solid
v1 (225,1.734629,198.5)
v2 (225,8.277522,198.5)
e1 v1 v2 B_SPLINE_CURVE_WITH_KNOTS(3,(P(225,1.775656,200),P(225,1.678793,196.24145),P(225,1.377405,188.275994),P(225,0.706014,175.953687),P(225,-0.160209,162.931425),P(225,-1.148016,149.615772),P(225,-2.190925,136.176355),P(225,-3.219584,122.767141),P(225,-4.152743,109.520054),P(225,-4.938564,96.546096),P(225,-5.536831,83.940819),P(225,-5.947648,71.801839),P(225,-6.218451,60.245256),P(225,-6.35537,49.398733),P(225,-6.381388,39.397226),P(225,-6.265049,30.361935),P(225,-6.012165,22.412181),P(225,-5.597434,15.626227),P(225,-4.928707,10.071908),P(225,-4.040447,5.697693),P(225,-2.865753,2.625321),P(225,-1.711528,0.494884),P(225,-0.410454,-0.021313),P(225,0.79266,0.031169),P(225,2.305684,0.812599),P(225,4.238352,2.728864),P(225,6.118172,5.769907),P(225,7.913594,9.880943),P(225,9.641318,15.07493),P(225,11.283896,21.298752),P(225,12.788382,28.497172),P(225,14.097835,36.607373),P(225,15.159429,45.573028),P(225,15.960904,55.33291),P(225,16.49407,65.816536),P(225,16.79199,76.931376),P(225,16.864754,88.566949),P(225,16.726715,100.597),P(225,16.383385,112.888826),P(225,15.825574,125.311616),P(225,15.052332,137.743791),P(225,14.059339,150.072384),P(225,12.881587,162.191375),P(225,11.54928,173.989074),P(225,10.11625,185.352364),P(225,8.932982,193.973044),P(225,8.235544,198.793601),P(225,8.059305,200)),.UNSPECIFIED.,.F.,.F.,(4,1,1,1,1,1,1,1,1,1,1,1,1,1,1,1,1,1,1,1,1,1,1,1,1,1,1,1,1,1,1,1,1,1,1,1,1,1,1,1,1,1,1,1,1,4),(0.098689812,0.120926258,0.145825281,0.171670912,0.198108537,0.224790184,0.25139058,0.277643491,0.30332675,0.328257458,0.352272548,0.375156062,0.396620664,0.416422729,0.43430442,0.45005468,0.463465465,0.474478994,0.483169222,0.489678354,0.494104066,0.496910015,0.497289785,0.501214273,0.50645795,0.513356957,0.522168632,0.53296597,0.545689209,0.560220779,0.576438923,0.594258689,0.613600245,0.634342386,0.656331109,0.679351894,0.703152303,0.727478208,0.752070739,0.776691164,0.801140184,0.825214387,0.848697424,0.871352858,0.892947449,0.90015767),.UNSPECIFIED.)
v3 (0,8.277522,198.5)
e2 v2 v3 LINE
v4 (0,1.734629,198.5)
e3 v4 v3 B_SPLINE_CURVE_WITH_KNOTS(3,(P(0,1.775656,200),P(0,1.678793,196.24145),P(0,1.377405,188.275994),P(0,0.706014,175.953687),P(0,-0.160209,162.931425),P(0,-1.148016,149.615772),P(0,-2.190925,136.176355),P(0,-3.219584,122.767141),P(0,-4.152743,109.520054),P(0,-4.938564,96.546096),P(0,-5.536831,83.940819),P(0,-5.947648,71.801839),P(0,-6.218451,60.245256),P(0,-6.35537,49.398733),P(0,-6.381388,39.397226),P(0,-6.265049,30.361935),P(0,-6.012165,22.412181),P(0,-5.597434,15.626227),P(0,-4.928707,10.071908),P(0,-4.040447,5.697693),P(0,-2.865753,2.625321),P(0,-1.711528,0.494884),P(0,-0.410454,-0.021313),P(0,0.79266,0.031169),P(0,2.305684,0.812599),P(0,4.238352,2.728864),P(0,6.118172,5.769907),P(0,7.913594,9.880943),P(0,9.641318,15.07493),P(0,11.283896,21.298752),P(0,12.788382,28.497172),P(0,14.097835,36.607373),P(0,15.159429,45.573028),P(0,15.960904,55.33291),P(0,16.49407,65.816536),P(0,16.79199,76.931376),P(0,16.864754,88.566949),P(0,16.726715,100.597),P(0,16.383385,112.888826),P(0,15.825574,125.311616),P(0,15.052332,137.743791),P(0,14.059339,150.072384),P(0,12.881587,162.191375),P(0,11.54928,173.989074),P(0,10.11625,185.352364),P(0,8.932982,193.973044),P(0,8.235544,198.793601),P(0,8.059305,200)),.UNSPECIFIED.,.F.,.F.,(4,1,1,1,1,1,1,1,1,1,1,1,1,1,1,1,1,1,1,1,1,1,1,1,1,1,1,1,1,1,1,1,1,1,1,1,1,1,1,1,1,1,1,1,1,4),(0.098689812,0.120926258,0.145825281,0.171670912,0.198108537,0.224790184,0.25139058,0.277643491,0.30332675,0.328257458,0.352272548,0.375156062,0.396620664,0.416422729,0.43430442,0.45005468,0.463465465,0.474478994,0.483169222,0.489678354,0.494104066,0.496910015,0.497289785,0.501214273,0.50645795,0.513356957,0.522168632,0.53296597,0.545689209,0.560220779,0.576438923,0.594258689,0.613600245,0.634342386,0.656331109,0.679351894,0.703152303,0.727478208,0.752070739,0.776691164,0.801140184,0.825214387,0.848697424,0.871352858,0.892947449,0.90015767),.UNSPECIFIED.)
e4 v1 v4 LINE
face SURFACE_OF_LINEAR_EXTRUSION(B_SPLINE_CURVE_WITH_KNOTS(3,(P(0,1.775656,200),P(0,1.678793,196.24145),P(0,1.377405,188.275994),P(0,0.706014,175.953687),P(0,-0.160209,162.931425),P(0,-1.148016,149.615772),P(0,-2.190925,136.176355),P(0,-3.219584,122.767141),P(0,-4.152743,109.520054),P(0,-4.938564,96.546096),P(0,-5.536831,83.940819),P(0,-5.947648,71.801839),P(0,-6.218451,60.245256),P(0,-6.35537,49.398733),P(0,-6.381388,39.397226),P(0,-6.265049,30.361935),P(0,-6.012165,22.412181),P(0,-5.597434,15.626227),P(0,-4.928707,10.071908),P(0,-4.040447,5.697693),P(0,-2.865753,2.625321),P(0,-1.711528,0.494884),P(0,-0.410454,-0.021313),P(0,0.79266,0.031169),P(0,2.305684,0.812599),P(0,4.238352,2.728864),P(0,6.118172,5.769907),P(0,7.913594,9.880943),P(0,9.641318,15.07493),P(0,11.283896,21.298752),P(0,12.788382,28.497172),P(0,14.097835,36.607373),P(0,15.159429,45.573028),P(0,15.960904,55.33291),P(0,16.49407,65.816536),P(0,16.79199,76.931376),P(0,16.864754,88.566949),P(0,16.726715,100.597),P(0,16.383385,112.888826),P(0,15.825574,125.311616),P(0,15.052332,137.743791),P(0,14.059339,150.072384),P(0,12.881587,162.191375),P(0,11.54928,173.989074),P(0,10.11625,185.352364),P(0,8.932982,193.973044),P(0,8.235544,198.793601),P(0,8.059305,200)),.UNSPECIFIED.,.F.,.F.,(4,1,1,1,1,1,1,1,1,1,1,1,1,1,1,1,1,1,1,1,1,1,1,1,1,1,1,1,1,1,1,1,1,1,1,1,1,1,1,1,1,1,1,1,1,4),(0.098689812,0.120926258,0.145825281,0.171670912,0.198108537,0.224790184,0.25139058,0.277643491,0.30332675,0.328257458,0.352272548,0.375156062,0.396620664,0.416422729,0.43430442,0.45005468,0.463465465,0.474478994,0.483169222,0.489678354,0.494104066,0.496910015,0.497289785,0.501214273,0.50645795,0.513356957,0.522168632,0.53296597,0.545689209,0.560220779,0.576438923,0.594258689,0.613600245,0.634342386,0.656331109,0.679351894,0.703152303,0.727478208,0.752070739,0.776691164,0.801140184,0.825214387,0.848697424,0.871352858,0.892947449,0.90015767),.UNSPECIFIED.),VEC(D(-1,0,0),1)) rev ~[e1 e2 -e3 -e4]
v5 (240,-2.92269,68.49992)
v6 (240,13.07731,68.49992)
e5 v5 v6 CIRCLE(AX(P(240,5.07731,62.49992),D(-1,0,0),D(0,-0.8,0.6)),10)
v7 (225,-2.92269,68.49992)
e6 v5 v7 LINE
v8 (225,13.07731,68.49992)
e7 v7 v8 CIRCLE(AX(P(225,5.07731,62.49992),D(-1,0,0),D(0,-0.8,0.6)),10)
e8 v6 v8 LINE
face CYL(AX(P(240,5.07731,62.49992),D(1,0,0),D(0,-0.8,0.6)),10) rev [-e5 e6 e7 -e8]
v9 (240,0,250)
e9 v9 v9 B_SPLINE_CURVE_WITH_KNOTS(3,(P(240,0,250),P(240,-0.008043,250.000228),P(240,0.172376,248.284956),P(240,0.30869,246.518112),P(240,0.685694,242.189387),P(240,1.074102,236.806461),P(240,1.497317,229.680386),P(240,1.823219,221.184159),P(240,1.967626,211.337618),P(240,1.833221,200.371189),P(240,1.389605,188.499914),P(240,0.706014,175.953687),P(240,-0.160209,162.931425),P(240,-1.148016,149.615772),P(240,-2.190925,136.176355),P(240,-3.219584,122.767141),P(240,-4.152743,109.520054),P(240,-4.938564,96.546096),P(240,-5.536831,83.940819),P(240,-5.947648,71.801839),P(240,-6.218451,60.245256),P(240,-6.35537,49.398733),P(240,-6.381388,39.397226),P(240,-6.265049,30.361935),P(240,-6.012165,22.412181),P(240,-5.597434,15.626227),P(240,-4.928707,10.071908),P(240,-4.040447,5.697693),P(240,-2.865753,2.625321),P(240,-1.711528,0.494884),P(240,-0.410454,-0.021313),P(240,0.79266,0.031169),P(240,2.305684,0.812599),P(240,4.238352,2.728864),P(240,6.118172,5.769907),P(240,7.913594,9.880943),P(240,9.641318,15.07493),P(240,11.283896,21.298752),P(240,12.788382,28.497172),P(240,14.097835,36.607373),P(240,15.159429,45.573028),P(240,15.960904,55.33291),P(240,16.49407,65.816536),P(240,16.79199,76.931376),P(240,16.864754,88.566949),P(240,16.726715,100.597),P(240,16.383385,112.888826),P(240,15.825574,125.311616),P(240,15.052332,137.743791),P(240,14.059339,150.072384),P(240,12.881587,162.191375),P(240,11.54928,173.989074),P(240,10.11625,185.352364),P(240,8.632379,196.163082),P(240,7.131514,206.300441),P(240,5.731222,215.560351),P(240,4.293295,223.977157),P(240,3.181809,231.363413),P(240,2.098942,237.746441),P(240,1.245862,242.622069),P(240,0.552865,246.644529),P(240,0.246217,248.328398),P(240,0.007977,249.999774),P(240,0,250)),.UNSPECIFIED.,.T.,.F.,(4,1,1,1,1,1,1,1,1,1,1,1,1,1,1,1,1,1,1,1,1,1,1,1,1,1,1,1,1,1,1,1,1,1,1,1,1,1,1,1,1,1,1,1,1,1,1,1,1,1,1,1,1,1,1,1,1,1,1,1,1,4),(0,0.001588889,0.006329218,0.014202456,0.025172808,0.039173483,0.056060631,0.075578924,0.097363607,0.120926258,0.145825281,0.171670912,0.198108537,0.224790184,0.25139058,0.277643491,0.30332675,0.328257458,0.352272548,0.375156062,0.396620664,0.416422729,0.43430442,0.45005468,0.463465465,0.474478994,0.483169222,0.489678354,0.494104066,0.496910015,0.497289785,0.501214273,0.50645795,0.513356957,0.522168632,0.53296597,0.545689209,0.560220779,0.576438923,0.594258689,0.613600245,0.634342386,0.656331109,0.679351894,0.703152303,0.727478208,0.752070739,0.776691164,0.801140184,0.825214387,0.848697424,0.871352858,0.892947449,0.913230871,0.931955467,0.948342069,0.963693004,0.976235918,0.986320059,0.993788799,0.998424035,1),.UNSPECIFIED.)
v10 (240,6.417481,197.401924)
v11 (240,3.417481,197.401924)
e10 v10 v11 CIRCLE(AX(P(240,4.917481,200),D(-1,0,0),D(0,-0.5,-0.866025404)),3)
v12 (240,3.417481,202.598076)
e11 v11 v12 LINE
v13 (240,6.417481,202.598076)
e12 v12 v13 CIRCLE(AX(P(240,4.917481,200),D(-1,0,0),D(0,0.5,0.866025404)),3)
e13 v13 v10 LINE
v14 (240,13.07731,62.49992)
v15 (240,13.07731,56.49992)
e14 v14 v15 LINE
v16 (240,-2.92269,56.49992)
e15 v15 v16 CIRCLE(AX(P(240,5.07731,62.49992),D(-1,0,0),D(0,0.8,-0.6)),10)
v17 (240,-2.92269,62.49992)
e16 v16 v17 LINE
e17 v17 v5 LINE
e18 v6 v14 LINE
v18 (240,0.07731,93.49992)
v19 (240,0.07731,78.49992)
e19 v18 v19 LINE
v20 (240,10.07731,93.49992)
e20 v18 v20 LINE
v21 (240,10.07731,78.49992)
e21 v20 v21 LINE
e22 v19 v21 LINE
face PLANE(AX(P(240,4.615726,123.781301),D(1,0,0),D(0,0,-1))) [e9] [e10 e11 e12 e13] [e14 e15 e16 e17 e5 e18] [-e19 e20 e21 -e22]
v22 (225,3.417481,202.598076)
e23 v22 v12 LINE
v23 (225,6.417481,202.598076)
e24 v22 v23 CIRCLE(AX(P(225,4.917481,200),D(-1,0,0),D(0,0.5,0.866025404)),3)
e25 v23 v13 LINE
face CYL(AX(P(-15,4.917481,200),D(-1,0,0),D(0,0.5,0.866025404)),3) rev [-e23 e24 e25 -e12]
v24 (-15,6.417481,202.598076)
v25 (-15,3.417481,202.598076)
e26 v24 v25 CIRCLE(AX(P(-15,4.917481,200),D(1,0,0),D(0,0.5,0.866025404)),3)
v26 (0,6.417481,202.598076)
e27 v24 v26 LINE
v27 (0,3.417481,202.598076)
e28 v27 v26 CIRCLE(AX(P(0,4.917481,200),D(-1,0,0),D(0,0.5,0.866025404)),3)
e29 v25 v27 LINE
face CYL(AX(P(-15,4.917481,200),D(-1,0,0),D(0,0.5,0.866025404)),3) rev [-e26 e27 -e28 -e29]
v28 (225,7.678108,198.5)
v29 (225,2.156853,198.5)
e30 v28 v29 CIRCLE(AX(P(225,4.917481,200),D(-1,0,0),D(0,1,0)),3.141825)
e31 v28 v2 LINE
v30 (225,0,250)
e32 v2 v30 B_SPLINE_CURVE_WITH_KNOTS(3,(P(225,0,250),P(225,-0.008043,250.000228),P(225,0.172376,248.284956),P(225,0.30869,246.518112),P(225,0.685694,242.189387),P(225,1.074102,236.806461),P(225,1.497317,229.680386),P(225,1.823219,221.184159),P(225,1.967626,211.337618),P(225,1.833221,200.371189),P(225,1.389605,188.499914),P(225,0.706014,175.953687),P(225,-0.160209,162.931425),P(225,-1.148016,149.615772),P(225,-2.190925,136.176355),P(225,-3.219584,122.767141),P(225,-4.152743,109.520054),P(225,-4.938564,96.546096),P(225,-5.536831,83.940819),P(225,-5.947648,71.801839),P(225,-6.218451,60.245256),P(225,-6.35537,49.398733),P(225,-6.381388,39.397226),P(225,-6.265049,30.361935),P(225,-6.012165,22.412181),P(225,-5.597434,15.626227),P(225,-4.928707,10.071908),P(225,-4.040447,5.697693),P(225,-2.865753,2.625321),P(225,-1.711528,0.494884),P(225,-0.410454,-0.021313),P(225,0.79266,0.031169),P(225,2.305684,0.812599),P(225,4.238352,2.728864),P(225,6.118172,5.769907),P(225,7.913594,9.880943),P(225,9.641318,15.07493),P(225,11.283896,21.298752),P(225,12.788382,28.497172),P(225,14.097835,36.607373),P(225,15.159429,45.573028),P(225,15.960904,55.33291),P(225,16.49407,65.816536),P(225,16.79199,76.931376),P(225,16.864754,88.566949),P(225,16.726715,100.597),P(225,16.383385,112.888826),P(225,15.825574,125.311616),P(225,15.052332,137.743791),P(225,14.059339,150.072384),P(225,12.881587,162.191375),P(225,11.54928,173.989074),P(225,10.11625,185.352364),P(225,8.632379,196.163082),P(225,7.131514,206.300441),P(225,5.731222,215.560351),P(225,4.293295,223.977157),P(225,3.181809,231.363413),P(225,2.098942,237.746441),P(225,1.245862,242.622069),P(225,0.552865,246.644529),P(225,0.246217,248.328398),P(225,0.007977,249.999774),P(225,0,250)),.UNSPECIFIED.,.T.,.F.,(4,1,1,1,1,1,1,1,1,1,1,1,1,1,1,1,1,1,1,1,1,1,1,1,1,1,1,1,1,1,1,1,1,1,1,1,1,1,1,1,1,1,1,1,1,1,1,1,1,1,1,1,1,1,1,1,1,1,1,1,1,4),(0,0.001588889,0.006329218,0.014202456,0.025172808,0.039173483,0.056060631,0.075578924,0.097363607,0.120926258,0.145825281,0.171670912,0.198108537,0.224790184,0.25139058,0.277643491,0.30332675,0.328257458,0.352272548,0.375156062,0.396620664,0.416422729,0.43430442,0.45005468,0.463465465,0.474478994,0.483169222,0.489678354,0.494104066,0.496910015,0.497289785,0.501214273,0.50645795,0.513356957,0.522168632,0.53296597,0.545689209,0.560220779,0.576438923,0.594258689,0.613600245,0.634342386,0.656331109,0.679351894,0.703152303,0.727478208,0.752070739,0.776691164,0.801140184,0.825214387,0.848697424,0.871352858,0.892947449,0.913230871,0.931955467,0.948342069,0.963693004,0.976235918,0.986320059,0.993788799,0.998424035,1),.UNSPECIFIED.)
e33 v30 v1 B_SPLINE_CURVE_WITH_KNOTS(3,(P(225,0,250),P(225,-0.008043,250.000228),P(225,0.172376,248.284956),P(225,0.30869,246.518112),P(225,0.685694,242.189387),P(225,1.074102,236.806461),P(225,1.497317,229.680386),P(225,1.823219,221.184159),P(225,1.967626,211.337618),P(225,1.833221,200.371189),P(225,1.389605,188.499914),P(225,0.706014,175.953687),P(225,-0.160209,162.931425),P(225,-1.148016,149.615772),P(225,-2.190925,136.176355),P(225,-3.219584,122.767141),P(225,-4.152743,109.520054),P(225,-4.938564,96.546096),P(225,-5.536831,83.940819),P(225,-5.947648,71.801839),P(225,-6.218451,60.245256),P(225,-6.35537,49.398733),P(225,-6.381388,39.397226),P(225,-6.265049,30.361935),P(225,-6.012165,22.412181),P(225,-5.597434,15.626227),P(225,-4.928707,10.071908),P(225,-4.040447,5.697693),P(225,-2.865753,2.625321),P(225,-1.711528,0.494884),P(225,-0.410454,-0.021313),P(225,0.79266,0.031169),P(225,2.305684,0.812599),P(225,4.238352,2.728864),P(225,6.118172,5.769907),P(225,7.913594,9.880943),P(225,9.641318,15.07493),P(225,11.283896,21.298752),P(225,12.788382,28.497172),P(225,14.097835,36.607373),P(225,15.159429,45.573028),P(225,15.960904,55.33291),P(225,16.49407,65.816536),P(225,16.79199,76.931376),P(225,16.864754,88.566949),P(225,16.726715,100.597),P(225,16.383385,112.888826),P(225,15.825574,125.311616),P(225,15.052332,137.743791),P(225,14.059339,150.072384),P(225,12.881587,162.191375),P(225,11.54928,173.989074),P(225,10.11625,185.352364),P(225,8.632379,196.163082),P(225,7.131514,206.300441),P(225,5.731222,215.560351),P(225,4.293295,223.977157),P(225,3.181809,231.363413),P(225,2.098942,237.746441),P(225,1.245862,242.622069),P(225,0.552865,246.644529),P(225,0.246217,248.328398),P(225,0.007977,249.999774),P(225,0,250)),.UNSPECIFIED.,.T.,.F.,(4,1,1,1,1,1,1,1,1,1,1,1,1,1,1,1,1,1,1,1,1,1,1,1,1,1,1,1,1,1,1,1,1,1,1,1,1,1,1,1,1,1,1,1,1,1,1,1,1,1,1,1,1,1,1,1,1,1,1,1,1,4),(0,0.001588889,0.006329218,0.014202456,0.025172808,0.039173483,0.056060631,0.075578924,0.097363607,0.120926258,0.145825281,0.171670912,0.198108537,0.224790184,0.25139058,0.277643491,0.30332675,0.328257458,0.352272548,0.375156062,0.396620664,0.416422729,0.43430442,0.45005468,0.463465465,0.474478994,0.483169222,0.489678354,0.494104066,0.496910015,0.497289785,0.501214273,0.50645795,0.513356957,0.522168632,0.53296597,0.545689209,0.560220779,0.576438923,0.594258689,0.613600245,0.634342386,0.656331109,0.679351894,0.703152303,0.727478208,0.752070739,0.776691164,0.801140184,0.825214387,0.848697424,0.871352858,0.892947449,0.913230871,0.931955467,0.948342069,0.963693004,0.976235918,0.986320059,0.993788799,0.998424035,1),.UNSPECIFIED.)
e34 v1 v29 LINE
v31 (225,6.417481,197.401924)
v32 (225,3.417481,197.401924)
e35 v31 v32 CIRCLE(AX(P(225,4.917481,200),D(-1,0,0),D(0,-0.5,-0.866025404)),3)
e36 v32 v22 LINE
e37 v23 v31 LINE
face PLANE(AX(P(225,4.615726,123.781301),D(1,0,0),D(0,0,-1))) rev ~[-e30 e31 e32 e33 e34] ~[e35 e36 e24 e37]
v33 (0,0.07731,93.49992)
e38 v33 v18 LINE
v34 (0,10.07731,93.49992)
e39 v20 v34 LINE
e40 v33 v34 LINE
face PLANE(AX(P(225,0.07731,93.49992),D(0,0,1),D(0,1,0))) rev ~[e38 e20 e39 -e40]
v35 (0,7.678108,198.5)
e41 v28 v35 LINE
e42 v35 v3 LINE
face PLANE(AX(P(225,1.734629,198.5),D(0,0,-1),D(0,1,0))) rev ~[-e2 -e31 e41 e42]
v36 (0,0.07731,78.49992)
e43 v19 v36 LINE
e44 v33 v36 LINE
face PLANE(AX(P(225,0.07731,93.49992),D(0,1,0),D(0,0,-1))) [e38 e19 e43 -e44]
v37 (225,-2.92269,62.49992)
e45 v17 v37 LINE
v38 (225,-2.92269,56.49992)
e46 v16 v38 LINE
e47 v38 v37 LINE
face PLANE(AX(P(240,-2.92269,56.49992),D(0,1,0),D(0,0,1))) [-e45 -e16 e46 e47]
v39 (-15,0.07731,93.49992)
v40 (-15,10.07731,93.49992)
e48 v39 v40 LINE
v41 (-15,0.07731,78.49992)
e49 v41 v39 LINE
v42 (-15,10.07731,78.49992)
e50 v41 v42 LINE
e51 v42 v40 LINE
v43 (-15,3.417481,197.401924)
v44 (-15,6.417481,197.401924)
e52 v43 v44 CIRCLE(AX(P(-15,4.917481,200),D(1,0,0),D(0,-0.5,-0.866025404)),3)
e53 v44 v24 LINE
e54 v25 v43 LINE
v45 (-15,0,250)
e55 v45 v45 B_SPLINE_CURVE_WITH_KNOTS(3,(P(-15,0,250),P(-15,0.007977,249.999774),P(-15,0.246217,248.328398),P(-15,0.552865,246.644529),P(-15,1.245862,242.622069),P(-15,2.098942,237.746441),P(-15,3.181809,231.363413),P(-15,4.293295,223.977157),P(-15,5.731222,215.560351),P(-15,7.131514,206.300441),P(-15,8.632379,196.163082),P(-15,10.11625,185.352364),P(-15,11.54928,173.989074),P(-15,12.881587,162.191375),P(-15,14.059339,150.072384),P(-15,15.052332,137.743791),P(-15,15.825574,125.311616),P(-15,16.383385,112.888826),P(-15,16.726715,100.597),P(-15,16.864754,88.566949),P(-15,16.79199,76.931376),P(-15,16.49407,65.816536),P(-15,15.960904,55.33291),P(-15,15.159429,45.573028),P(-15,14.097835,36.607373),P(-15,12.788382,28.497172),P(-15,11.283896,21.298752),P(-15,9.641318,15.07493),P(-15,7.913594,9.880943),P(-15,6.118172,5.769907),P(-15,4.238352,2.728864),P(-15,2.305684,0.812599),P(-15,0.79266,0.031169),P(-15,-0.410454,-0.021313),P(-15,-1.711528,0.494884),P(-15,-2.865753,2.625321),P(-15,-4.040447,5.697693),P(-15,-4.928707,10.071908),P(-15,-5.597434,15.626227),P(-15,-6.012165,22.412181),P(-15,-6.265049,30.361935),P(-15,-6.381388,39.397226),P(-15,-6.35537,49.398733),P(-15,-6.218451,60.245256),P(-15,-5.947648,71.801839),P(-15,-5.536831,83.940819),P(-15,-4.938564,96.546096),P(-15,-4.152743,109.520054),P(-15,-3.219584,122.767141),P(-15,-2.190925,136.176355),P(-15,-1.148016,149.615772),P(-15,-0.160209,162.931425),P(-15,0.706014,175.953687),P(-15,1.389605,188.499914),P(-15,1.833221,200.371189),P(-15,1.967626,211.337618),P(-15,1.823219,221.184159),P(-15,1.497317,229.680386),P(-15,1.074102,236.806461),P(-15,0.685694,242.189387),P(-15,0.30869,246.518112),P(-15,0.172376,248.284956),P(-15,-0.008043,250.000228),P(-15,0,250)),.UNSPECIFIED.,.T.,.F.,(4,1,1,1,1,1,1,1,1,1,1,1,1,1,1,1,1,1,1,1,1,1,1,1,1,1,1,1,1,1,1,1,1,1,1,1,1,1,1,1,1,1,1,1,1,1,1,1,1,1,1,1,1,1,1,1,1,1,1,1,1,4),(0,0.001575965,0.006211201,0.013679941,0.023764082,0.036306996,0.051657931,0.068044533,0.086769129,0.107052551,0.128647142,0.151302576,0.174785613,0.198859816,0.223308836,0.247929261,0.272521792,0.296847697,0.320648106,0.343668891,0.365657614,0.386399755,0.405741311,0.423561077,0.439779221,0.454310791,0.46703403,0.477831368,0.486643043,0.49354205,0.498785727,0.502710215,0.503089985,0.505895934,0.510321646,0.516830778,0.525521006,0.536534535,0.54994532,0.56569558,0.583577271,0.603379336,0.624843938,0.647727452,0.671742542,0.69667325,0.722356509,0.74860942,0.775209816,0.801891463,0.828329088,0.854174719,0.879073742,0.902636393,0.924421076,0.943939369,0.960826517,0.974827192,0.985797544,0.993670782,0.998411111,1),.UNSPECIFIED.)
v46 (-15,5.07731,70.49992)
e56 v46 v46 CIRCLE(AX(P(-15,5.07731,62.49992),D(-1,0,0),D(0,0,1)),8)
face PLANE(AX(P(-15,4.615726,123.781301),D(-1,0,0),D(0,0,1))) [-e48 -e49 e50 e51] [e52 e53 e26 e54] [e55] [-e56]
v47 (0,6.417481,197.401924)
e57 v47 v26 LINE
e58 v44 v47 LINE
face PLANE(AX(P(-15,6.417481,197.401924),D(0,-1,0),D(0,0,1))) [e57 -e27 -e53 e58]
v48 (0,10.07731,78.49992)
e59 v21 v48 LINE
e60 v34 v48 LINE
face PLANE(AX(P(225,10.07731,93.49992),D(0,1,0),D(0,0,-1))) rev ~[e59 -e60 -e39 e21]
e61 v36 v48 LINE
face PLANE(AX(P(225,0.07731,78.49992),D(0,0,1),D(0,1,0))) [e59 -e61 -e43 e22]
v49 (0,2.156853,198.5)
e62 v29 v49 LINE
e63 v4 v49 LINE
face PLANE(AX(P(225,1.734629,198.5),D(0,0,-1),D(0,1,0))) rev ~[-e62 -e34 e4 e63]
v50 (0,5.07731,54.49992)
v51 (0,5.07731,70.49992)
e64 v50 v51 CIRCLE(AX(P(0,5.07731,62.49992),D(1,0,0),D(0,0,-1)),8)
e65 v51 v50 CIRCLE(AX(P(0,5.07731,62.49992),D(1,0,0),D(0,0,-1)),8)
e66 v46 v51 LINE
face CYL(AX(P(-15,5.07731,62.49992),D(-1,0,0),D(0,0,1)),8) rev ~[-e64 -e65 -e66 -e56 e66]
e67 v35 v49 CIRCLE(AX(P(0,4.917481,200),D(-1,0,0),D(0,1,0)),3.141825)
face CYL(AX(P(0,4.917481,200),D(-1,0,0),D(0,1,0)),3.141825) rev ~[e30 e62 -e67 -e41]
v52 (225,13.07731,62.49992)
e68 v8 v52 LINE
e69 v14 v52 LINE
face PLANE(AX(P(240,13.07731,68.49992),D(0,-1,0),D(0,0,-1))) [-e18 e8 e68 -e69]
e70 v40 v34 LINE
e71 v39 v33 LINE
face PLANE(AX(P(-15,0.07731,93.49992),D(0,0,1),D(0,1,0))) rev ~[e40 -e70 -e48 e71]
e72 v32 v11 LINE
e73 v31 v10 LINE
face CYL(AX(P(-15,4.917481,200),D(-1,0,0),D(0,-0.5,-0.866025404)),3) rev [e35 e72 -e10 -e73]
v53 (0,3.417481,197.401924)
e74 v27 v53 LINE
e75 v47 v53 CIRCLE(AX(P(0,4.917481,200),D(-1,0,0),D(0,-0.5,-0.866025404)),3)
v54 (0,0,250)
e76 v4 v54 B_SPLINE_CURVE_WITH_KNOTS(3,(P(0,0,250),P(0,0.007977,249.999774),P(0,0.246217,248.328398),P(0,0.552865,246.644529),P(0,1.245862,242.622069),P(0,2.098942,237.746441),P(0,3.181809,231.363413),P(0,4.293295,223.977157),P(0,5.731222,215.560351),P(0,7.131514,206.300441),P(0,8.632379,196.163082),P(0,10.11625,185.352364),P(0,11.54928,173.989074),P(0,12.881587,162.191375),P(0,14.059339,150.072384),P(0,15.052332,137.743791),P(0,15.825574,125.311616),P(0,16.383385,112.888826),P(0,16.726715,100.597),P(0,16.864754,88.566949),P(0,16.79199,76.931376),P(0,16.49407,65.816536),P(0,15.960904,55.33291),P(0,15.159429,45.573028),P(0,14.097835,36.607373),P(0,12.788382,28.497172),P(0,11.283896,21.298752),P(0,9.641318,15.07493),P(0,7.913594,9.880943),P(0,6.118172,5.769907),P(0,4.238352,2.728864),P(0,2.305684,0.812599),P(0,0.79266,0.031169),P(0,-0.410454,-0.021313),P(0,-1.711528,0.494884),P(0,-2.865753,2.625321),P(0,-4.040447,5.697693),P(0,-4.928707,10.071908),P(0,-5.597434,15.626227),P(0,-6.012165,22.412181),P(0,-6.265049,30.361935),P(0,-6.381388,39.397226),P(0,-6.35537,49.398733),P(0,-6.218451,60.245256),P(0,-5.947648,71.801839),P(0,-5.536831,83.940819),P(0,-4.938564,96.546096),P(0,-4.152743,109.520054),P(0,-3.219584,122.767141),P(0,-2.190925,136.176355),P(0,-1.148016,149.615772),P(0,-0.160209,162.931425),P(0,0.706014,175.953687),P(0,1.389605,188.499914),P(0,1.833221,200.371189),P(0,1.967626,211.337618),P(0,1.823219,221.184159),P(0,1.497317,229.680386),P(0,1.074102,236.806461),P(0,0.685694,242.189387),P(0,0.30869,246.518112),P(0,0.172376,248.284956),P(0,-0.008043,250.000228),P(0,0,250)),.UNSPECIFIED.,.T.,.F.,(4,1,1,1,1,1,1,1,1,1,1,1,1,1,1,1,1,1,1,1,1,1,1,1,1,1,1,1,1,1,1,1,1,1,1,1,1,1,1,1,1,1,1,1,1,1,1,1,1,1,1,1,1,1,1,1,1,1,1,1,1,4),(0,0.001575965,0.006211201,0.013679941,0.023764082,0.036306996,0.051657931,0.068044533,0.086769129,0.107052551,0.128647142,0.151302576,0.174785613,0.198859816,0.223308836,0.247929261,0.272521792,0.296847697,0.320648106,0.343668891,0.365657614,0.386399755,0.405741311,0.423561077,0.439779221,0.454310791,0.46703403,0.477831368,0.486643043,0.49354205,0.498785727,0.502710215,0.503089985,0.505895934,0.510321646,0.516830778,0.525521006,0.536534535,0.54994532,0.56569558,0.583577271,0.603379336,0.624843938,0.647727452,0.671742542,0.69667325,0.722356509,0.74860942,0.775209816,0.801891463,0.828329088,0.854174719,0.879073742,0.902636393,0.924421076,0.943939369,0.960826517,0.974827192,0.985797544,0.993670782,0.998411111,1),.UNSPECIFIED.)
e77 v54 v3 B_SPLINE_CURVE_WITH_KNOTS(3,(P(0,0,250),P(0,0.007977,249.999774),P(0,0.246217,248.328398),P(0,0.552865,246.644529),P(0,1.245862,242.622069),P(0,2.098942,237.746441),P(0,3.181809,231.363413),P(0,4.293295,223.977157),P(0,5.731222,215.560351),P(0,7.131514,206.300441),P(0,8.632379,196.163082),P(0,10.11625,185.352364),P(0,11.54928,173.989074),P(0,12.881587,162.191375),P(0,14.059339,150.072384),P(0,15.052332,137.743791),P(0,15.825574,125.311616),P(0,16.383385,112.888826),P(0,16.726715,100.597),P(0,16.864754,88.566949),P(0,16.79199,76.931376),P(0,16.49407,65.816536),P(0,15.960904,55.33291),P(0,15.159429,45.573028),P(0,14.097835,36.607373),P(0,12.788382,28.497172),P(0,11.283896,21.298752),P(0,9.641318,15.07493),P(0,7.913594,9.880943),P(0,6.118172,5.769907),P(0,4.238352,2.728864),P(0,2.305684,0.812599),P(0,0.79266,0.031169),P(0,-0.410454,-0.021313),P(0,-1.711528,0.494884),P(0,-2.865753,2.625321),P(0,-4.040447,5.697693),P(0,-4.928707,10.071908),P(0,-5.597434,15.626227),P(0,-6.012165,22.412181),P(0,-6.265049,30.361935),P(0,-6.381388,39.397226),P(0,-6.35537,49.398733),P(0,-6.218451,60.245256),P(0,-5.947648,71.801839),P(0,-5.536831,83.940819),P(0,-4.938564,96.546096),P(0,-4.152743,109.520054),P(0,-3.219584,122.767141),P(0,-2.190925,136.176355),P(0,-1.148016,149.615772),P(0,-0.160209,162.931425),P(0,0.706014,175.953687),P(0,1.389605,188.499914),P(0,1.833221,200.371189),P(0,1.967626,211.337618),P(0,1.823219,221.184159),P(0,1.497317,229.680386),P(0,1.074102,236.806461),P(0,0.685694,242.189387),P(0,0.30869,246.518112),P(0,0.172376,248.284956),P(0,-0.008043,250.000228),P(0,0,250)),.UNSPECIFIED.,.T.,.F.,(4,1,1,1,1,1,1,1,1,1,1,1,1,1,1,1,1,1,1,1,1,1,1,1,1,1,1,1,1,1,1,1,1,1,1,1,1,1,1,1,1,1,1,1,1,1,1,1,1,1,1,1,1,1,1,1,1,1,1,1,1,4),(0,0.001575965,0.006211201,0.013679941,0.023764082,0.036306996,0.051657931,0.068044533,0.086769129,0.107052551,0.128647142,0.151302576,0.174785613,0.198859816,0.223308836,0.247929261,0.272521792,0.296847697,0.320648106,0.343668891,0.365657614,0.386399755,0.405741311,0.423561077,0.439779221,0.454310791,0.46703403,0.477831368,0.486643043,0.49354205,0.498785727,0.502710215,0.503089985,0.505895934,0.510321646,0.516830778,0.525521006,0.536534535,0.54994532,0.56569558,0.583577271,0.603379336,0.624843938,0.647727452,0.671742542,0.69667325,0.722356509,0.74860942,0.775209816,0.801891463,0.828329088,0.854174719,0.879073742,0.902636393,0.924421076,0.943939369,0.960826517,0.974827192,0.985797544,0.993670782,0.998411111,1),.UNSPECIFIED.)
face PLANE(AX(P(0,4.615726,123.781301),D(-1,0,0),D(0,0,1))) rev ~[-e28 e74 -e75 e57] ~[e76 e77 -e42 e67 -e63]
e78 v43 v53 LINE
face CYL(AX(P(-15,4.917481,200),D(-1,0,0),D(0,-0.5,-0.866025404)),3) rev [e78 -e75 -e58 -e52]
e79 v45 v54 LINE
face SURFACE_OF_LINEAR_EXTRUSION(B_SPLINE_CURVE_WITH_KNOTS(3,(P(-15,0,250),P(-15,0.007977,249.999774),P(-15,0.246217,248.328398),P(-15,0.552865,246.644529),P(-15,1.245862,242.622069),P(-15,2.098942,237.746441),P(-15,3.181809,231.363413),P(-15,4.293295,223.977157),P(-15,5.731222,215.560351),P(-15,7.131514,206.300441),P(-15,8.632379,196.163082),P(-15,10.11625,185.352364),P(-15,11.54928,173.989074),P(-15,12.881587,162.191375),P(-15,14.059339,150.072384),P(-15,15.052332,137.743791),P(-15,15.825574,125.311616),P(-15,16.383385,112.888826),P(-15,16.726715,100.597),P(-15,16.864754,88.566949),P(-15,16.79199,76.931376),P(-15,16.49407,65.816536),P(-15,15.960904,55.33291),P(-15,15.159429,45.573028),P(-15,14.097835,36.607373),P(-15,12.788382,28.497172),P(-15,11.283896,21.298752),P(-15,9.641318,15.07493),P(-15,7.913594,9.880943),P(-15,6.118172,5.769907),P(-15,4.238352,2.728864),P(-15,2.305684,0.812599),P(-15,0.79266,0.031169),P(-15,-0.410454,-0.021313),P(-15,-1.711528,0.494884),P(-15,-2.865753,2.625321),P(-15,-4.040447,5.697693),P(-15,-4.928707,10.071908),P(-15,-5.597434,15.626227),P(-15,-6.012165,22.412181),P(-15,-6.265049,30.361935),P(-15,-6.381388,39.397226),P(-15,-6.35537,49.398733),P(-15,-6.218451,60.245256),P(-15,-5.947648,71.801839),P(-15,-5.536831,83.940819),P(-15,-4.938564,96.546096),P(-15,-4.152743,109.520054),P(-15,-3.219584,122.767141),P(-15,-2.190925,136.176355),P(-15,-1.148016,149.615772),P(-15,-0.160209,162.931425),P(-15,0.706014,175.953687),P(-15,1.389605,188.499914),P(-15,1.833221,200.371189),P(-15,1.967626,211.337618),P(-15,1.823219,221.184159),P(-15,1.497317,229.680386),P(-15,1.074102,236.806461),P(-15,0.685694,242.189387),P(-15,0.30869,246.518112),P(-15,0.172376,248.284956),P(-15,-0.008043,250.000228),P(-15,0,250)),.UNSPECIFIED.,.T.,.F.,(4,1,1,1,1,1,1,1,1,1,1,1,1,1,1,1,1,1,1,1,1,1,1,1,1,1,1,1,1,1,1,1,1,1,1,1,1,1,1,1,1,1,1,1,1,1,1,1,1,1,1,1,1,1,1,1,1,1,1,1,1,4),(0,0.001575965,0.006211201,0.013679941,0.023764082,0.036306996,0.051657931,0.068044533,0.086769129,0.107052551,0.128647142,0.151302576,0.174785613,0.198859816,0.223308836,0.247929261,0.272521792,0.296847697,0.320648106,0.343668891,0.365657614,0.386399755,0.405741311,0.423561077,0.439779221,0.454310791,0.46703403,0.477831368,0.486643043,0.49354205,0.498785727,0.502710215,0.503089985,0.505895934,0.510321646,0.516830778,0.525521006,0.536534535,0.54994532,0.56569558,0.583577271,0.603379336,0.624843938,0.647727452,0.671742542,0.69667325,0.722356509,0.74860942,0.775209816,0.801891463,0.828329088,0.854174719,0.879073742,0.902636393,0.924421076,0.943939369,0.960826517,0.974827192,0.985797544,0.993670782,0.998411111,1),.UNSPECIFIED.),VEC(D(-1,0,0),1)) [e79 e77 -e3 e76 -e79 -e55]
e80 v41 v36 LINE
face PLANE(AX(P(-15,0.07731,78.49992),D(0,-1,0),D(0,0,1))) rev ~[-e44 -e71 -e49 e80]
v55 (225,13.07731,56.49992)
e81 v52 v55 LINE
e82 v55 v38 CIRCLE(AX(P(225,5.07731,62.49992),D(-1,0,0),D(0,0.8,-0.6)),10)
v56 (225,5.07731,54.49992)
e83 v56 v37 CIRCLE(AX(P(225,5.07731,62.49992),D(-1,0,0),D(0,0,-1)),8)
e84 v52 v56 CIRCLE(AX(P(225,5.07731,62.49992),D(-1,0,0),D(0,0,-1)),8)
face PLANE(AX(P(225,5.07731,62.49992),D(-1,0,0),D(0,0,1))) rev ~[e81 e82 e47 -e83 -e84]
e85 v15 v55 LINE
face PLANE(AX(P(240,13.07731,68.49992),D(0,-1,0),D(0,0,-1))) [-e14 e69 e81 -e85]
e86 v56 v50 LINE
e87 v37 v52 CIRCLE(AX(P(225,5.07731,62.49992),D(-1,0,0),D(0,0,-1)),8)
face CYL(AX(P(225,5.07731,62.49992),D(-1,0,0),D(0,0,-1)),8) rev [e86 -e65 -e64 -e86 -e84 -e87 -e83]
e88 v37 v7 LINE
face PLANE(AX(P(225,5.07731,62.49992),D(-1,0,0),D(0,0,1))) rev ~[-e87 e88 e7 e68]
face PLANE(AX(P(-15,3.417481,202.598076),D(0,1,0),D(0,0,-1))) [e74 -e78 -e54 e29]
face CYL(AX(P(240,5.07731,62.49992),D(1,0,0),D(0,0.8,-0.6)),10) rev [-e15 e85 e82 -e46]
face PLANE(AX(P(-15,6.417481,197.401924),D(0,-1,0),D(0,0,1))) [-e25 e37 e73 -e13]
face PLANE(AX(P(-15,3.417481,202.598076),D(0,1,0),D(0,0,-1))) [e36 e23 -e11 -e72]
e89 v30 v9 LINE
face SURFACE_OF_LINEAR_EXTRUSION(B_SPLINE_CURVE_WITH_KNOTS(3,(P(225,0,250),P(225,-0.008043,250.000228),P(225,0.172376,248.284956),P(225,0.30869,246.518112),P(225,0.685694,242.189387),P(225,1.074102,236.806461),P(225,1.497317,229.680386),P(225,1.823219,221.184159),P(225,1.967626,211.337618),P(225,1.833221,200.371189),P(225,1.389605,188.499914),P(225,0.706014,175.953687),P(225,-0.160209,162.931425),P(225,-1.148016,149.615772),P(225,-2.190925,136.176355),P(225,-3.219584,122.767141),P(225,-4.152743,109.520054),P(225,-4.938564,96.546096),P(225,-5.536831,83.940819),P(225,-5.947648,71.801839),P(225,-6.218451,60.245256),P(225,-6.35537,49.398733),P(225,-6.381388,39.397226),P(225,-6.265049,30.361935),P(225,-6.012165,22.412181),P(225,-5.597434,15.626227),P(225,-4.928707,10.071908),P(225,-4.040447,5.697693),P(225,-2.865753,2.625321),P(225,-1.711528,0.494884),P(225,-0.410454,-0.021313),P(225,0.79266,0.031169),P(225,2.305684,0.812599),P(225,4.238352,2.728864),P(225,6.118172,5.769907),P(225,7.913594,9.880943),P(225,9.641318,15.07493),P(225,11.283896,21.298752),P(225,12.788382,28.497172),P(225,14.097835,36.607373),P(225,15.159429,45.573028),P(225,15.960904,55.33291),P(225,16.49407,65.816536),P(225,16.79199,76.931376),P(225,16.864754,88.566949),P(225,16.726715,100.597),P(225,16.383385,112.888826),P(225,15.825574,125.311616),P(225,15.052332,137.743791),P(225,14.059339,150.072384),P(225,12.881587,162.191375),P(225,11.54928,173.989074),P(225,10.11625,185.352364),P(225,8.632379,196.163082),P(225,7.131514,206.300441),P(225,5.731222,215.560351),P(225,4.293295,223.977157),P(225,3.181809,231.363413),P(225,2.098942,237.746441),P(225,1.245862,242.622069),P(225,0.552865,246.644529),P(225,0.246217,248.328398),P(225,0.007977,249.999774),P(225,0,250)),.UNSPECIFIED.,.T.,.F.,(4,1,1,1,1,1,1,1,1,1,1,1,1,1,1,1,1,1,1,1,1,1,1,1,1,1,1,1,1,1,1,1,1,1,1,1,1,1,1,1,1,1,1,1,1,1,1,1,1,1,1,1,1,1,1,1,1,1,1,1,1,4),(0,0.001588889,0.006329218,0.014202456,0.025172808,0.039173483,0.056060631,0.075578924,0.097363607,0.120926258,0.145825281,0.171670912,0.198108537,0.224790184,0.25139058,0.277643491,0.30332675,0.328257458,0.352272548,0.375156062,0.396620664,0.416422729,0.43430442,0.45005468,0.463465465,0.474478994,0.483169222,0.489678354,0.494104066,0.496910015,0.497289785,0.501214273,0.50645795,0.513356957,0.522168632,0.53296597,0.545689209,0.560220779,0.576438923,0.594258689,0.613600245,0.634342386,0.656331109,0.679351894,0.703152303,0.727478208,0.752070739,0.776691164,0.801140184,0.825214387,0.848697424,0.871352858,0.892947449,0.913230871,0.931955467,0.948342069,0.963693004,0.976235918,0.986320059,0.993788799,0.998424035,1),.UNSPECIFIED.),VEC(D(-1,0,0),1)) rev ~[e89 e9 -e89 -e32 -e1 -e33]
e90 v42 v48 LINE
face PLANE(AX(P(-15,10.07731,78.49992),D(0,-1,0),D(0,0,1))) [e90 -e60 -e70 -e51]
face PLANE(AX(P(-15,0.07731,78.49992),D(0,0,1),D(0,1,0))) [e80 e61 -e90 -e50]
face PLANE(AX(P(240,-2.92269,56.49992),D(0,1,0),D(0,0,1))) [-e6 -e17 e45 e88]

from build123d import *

# Parameters (mm, degrees)
SCHIZZO1_R               = 8
SCHIZZO1_W               = 15
SCHIZZO1_H               = 10
CORPOFOAM_DEPTH          = 225
SCHIZZO2_W               = 5
SCHIZZO2_H               = 6.542892791
SMUSSOPOSTERIORE_DEPTH   = 302.510060719
SCHIZZO3_R               = 8
SCHIZZO3_W               = 15
SCHIZZO3_H               = 10
LATODESTRO_DEPTH         = 15
LATOSINISTRO_START       = 15
SCHIZZO4_R               = 8
SCHIZZO4_W               = 15
SCHIZZO4_H               = 10
LATOSINISTRO_DEPTH       = 15
FOROPERNOALETTONE_DEPTH  = 358.502890584
FOROFOAMLONGHERONE_DEPTH = 15


with BuildPart() as part:
    # Schizzo1 → CorpoFoam (new body)
    with BuildSketch(Plane(origin=(0, 0, 0), x_dir=(0, 0, -1), z_dir=(1, 0, 0))):
        with BuildLine():
            ThreePointArc((-200, 8.059305289), (-196.8581753, 4.91748059), (-200, 1.77565589))
            add(Edge.make_bspline(
                [(-200, 1.77565589), (-196.241450344, 1.678792644), (-188.275993902, 1.377404844), (-175.953687417, 0.706014078), (-162.931424918, -0.160208642), (-149.615771744, -1.148016327), (-136.176354995, -2.19092491), (-122.767140548, -3.219583979), (-109.520053587, -4.152743127), (-96.546095975, -4.938564365), (-83.940819302, -5.536830703), (-71.801839291, -5.947648205), (-60.245256003, -6.218450939), (-49.398732891, -6.355369756), (-39.397226194, -6.381387963), (-30.361934842, -6.26504923), (-22.412181103, -6.012164917), (-15.626227231, -5.597433901), (-10.071907511, -4.928706579), (-5.697692612, -4.040446981), (-2.625320639, -2.865752984), (-0.494884225, -1.71152847), (0.021312549, -0.410454231), (-0.0311692, 0.792659827), (-0.812599242, 2.305684337), (-2.728863517, 4.238352424), (-5.769907241, 6.118172121), (-9.880942804, 7.913594202), (-15.074930468, 9.641318178), (-21.298752222, 11.283896488), (-28.49717212, 12.788381759), (-36.607373406, 14.097834908), (-45.57302844, 15.159429017), (-55.332910074, 15.960903998), (-65.816536498, 16.494069738), (-76.93137626, 16.791989705), (-88.566949028, 16.864754131), (-100.596999886, 16.726715291), (-112.888825982, 16.383385064), (-125.311615819, 15.825573667), (-137.743791097, 15.05233187), (-150.072384382, 14.059339074), (-162.191375056, 12.881586986), (-173.989074322, 11.549280346), (-185.352364446, 10.116249729), (-193.973044007, 8.932981988), (-198.793601378, 8.235543811), (-200, 8.059305289)],
                knots=[0.098689812, 0.098689812, 0.098689812, 0.098689812, 0.120926258, 0.145825281, 0.171670912, 0.198108537, 0.224790184, 0.25139058, 0.277643491, 0.30332675, 0.328257458, 0.352272548, 0.375156062, 0.396620664, 0.416422729, 0.43430442, 0.45005468, 0.463465465, 0.474478994, 0.483169222, 0.489678354, 0.494104066, 0.496910015, 0.497289785, 0.501214273, 0.50645795, 0.513356957, 0.522168632, 0.53296597, 0.545689209, 0.560220779, 0.576438923, 0.594258689, 0.613600245, 0.634342386, 0.656331109, 0.679351894, 0.703152303, 0.727478208, 0.752070739, 0.776691164, 0.801140184, 0.825214387, 0.848697424, 0.871352858, 0.892947449, 0.90015767, 0.90015767, 0.90015767, 0.90015767], degree=3))
        make_face()
        with Locations((-62.499919709, 5.077309939)):
            Circle(SCHIZZO1_R, mode=Mode.SUBTRACT)
        with Locations((-85.999919709, 5.077309939)):
            Rectangle(SCHIZZO1_W, SCHIZZO1_H, mode=Mode.SUBTRACT)
    extrude(amount=CORPOFOAM_DEPTH)

    # Schizzo2 → SmussoPosteriore (cut, through all)
    with BuildSketch(Plane(origin=(225, 0, 0), x_dir=(0, 0, -1), z_dir=(1, 0, 0))):
        with Locations((-201, 5.006075261)):
            Rectangle(SCHIZZO2_W, SCHIZZO2_H)
    extrude(amount=-SMUSSOPOSTERIORE_DEPTH, mode=Mode.SUBTRACT)

    # Schizzo3 → LatoDestro (add)
    with BuildSketch(Plane(origin=(225, 0, 0), x_dir=(0, 0, -1), z_dir=(1, 0, 0))):
        with BuildLine():
            add(Edge.make_bspline(
                [(-250, 0), (-250.000228294, -0.008042796), (-248.284955516, 0.172375658), (-246.518112419, 0.308690015), (-242.189387343, 0.685693594), (-236.806461263, 1.074101529), (-229.680385952, 1.49731724), (-221.184158698, 1.823218603), (-211.337618208, 1.967626101), (-200.371188527, 1.833221056), (-188.499913622, 1.38960529), (-175.953687417, 0.706014078), (-162.931424918, -0.160208642), (-149.615771744, -1.148016327), (-136.176354995, -2.19092491), (-122.767140548, -3.219583979), (-109.520053587, -4.152743127), (-96.546095975, -4.938564365), (-83.940819302, -5.536830703), (-71.801839291, -5.947648205), (-60.245256003, -6.218450939), (-49.398732891, -6.355369756), (-39.397226194, -6.381387963), (-30.361934842, -6.26504923), (-22.412181103, -6.012164917), (-15.626227231, -5.597433901), (-10.071907511, -4.928706579), (-5.697692612, -4.040446981), (-2.625320639, -2.865752984), (-0.494884225, -1.71152847), (0.021312549, -0.410454231), (-0.0311692, 0.792659827), (-0.812599242, 2.305684337), (-2.728863517, 4.238352424), (-5.769907241, 6.118172121), (-9.880942804, 7.913594202), (-15.074930468, 9.641318178), (-21.298752222, 11.283896488), (-28.49717212, 12.788381759), (-36.607373406, 14.097834908), (-45.57302844, 15.159429017), (-55.332910074, 15.960903998), (-65.816536498, 16.494069738), (-76.93137626, 16.791989705), (-88.566949028, 16.864754131), (-100.596999886, 16.726715291), (-112.888825982, 16.383385064), (-125.311615819, 15.825573667), (-137.743791097, 15.05233187), (-150.072384382, 14.059339074), (-162.191375056, 12.881586986), (-173.989074322, 11.549280346), (-185.352364446, 10.116249729), (-196.163081698, 8.632379125), (-206.300441402, 7.131513884), (-215.560350587, 5.731221768), (-223.977157043, 4.293295127), (-231.363413336, 3.181808874), (-237.746440904, 2.098942417), (-242.622069366, 1.245861917), (-246.644529332, 0.552864946), (-248.32839844, 0.246216765), (-249.999773563, 0.007977377), (-250, 0)],
                knots=[0, 0, 0, 0, 0.001588889, 0.006329218, 0.014202456, 0.025172808, 0.039173483, 0.056060631, 0.075578924, 0.097363607, 0.120926258, 0.145825281, 0.171670912, 0.198108537, 0.224790184, 0.25139058, 0.277643491, 0.30332675, 0.328257458, 0.352272548, 0.375156062, 0.396620664, 0.416422729, 0.43430442, 0.45005468, 0.463465465, 0.474478994, 0.483169222, 0.489678354, 0.494104066, 0.496910015, 0.497289785, 0.501214273, 0.50645795, 0.513356957, 0.522168632, 0.53296597, 0.545689209, 0.560220779, 0.576438923, 0.594258689, 0.613600245, 0.634342386, 0.656331109, 0.679351894, 0.703152303, 0.727478208, 0.752070739, 0.776691164, 0.801140184, 0.825214387, 0.848697424, 0.871352858, 0.892947449, 0.913230871, 0.931955467, 0.948342069, 0.963693004, 0.976235918, 0.986320059, 0.993788799, 0.998424035, 1, 1, 1, 1], degree=3))
        make_face()
        with Locations((-62.499919709, 5.077309939)):
            Circle(SCHIZZO3_R, mode=Mode.SUBTRACT)
        with Locations((-85.999919709, 5.077309939)):
            Rectangle(SCHIZZO3_W, SCHIZZO3_H, mode=Mode.SUBTRACT)
    extrude(amount=LATODESTRO_DEPTH)

    # Schizzo4 → LatoSinistro (add)
    with BuildSketch(Plane.ZY.offset(LATOSINISTRO_START)):
        with BuildLine():
            add(Edge.make_bspline(
                [(250, 0), (249.999773563, 0.007977377), (248.32839844, 0.246216765), (246.644529332, 0.552864946), (242.622069366, 1.245861917), (237.746440904, 2.098942417), (231.363413336, 3.181808874), (223.977157043, 4.293295127), (215.560350587, 5.731221768), (206.300441402, 7.131513884), (196.163081698, 8.632379125), (185.352364446, 10.116249729), (173.989074322, 11.549280346), (162.191375056, 12.881586986), (150.072384382, 14.059339074), (137.743791097, 15.05233187), (125.311615819, 15.825573667), (112.888825982, 16.383385064), (100.596999886, 16.726715291), (88.566949028, 16.864754131), (76.93137626, 16.791989705), (65.816536498, 16.494069738), (55.332910074, 15.960903998), (45.57302844, 15.159429017), (36.607373406, 14.097834908), (28.49717212, 12.788381759), (21.298752222, 11.283896488), (15.074930468, 9.641318178), (9.880942804, 7.913594202), (5.769907241, 6.118172121), (2.728863517, 4.238352424), (0.812599242, 2.305684337), (0.0311692, 0.792659827), (-0.021312549, -0.410454231), (0.494884225, -1.71152847), (2.625320639, -2.865752984), (5.697692612, -4.040446981), (10.071907511, -4.928706579), (15.626227231, -5.597433901), (22.412181103, -6.012164917), (30.361934842, -6.26504923), (39.397226194, -6.381387963), (49.398732891, -6.355369756), (60.245256003, -6.218450939), (71.801839291, -5.947648205), (83.940819302, -5.536830703), (96.546095975, -4.938564365), (109.520053587, -4.152743127), (122.767140548, -3.219583979), (136.176354995, -2.19092491), (149.615771744, -1.148016327), (162.931424918, -0.160208642), (175.953687417, 0.706014078), (188.499913622, 1.38960529), (200.371188527, 1.833221056), (211.337618208, 1.967626101), (221.184158698, 1.823218603), (229.680385952, 1.49731724), (236.806461263, 1.074101529), (242.189387343, 0.685693594), (246.518112419, 0.308690015), (248.284955516, 0.172375658), (250.000228294, -0.008042796), (250, 0)],
                knots=[0, 0, 0, 0, 0.001575965, 0.006211201, 0.013679941, 0.023764082, 0.036306996, 0.051657931, 0.068044533, 0.086769129, 0.107052551, 0.128647142, 0.151302576, 0.174785613, 0.198859816, 0.223308836, 0.247929261, 0.272521792, 0.296847697, 0.320648106, 0.343668891, 0.365657614, 0.386399755, 0.405741311, 0.423561077, 0.439779221, 0.454310791, 0.46703403, 0.477831368, 0.486643043, 0.49354205, 0.498785727, 0.502710215, 0.503089985, 0.505895934, 0.510321646, 0.516830778, 0.525521006, 0.536534535, 0.54994532, 0.56569558, 0.583577271, 0.603379336, 0.624843938, 0.647727452, 0.671742542, 0.69667325, 0.722356509, 0.74860942, 0.775209816, 0.801891463, 0.828329088, 0.854174719, 0.879073742, 0.902636393, 0.924421076, 0.943939369, 0.960826517, 0.974827192, 0.985797544, 0.993670782, 0.998411111, 1, 1, 1, 1], degree=3))
        make_face()
        with Locations((62.499919709, 5.077309939)):
            Circle(SCHIZZO4_R, mode=Mode.SUBTRACT)
        with Locations((85.999919709, 5.077309939)):
            Rectangle(SCHIZZO4_W, SCHIZZO4_H, mode=Mode.SUBTRACT)
    extrude(amount=-LATOSINISTRO_DEPTH)

    # Schizzo5 → ForoPernoAlettone (cut, through all)
    with BuildSketch(Plane.ZY.offset(15)):
        with BuildLine():
            Line((197.401923789, 6.41748059), (202.598076211, 6.41748059))
            ThreePointArc((202.598076211, 6.41748059), (203, 4.91748059), (202.598076211, 3.41748059))
            Line((202.598076211, 3.41748059), (197.401923789, 3.41748059))
            ThreePointArc((197.401923789, 3.41748059), (197, 4.91748059), (197.401923789, 6.41748059))
        make_face()
    extrude(amount=-FOROPERNOALETTONE_DEPTH, mode=Mode.SUBTRACT)

    # Schizzo6 → ForoFoamLongherone (cut)
    with BuildSketch(Plane(origin=(240, 0, 0), x_dir=(0, 0, -1), z_dir=(1, 0, 0))):
        with BuildLine():
            Line((-68.499919709, 13.077309939), (-56.499919709, 13.077309939))
            ThreePointArc((-56.499919709, 13.077309939), (-52.499919709, 5.077309939), (-56.499919709, -2.922690061))
            Line((-56.499919709, -2.922690061), (-68.499919709, -2.922690061))
            ThreePointArc((-68.499919709, -2.922690061), (-72.499919709, 5.077309939), (-68.499919709, 13.077309939))
        make_face()
    extrude(amount=-FOROFOAMLONGHERONE_DEPTH, mode=Mode.SUBTRACT)


solid = part.part
